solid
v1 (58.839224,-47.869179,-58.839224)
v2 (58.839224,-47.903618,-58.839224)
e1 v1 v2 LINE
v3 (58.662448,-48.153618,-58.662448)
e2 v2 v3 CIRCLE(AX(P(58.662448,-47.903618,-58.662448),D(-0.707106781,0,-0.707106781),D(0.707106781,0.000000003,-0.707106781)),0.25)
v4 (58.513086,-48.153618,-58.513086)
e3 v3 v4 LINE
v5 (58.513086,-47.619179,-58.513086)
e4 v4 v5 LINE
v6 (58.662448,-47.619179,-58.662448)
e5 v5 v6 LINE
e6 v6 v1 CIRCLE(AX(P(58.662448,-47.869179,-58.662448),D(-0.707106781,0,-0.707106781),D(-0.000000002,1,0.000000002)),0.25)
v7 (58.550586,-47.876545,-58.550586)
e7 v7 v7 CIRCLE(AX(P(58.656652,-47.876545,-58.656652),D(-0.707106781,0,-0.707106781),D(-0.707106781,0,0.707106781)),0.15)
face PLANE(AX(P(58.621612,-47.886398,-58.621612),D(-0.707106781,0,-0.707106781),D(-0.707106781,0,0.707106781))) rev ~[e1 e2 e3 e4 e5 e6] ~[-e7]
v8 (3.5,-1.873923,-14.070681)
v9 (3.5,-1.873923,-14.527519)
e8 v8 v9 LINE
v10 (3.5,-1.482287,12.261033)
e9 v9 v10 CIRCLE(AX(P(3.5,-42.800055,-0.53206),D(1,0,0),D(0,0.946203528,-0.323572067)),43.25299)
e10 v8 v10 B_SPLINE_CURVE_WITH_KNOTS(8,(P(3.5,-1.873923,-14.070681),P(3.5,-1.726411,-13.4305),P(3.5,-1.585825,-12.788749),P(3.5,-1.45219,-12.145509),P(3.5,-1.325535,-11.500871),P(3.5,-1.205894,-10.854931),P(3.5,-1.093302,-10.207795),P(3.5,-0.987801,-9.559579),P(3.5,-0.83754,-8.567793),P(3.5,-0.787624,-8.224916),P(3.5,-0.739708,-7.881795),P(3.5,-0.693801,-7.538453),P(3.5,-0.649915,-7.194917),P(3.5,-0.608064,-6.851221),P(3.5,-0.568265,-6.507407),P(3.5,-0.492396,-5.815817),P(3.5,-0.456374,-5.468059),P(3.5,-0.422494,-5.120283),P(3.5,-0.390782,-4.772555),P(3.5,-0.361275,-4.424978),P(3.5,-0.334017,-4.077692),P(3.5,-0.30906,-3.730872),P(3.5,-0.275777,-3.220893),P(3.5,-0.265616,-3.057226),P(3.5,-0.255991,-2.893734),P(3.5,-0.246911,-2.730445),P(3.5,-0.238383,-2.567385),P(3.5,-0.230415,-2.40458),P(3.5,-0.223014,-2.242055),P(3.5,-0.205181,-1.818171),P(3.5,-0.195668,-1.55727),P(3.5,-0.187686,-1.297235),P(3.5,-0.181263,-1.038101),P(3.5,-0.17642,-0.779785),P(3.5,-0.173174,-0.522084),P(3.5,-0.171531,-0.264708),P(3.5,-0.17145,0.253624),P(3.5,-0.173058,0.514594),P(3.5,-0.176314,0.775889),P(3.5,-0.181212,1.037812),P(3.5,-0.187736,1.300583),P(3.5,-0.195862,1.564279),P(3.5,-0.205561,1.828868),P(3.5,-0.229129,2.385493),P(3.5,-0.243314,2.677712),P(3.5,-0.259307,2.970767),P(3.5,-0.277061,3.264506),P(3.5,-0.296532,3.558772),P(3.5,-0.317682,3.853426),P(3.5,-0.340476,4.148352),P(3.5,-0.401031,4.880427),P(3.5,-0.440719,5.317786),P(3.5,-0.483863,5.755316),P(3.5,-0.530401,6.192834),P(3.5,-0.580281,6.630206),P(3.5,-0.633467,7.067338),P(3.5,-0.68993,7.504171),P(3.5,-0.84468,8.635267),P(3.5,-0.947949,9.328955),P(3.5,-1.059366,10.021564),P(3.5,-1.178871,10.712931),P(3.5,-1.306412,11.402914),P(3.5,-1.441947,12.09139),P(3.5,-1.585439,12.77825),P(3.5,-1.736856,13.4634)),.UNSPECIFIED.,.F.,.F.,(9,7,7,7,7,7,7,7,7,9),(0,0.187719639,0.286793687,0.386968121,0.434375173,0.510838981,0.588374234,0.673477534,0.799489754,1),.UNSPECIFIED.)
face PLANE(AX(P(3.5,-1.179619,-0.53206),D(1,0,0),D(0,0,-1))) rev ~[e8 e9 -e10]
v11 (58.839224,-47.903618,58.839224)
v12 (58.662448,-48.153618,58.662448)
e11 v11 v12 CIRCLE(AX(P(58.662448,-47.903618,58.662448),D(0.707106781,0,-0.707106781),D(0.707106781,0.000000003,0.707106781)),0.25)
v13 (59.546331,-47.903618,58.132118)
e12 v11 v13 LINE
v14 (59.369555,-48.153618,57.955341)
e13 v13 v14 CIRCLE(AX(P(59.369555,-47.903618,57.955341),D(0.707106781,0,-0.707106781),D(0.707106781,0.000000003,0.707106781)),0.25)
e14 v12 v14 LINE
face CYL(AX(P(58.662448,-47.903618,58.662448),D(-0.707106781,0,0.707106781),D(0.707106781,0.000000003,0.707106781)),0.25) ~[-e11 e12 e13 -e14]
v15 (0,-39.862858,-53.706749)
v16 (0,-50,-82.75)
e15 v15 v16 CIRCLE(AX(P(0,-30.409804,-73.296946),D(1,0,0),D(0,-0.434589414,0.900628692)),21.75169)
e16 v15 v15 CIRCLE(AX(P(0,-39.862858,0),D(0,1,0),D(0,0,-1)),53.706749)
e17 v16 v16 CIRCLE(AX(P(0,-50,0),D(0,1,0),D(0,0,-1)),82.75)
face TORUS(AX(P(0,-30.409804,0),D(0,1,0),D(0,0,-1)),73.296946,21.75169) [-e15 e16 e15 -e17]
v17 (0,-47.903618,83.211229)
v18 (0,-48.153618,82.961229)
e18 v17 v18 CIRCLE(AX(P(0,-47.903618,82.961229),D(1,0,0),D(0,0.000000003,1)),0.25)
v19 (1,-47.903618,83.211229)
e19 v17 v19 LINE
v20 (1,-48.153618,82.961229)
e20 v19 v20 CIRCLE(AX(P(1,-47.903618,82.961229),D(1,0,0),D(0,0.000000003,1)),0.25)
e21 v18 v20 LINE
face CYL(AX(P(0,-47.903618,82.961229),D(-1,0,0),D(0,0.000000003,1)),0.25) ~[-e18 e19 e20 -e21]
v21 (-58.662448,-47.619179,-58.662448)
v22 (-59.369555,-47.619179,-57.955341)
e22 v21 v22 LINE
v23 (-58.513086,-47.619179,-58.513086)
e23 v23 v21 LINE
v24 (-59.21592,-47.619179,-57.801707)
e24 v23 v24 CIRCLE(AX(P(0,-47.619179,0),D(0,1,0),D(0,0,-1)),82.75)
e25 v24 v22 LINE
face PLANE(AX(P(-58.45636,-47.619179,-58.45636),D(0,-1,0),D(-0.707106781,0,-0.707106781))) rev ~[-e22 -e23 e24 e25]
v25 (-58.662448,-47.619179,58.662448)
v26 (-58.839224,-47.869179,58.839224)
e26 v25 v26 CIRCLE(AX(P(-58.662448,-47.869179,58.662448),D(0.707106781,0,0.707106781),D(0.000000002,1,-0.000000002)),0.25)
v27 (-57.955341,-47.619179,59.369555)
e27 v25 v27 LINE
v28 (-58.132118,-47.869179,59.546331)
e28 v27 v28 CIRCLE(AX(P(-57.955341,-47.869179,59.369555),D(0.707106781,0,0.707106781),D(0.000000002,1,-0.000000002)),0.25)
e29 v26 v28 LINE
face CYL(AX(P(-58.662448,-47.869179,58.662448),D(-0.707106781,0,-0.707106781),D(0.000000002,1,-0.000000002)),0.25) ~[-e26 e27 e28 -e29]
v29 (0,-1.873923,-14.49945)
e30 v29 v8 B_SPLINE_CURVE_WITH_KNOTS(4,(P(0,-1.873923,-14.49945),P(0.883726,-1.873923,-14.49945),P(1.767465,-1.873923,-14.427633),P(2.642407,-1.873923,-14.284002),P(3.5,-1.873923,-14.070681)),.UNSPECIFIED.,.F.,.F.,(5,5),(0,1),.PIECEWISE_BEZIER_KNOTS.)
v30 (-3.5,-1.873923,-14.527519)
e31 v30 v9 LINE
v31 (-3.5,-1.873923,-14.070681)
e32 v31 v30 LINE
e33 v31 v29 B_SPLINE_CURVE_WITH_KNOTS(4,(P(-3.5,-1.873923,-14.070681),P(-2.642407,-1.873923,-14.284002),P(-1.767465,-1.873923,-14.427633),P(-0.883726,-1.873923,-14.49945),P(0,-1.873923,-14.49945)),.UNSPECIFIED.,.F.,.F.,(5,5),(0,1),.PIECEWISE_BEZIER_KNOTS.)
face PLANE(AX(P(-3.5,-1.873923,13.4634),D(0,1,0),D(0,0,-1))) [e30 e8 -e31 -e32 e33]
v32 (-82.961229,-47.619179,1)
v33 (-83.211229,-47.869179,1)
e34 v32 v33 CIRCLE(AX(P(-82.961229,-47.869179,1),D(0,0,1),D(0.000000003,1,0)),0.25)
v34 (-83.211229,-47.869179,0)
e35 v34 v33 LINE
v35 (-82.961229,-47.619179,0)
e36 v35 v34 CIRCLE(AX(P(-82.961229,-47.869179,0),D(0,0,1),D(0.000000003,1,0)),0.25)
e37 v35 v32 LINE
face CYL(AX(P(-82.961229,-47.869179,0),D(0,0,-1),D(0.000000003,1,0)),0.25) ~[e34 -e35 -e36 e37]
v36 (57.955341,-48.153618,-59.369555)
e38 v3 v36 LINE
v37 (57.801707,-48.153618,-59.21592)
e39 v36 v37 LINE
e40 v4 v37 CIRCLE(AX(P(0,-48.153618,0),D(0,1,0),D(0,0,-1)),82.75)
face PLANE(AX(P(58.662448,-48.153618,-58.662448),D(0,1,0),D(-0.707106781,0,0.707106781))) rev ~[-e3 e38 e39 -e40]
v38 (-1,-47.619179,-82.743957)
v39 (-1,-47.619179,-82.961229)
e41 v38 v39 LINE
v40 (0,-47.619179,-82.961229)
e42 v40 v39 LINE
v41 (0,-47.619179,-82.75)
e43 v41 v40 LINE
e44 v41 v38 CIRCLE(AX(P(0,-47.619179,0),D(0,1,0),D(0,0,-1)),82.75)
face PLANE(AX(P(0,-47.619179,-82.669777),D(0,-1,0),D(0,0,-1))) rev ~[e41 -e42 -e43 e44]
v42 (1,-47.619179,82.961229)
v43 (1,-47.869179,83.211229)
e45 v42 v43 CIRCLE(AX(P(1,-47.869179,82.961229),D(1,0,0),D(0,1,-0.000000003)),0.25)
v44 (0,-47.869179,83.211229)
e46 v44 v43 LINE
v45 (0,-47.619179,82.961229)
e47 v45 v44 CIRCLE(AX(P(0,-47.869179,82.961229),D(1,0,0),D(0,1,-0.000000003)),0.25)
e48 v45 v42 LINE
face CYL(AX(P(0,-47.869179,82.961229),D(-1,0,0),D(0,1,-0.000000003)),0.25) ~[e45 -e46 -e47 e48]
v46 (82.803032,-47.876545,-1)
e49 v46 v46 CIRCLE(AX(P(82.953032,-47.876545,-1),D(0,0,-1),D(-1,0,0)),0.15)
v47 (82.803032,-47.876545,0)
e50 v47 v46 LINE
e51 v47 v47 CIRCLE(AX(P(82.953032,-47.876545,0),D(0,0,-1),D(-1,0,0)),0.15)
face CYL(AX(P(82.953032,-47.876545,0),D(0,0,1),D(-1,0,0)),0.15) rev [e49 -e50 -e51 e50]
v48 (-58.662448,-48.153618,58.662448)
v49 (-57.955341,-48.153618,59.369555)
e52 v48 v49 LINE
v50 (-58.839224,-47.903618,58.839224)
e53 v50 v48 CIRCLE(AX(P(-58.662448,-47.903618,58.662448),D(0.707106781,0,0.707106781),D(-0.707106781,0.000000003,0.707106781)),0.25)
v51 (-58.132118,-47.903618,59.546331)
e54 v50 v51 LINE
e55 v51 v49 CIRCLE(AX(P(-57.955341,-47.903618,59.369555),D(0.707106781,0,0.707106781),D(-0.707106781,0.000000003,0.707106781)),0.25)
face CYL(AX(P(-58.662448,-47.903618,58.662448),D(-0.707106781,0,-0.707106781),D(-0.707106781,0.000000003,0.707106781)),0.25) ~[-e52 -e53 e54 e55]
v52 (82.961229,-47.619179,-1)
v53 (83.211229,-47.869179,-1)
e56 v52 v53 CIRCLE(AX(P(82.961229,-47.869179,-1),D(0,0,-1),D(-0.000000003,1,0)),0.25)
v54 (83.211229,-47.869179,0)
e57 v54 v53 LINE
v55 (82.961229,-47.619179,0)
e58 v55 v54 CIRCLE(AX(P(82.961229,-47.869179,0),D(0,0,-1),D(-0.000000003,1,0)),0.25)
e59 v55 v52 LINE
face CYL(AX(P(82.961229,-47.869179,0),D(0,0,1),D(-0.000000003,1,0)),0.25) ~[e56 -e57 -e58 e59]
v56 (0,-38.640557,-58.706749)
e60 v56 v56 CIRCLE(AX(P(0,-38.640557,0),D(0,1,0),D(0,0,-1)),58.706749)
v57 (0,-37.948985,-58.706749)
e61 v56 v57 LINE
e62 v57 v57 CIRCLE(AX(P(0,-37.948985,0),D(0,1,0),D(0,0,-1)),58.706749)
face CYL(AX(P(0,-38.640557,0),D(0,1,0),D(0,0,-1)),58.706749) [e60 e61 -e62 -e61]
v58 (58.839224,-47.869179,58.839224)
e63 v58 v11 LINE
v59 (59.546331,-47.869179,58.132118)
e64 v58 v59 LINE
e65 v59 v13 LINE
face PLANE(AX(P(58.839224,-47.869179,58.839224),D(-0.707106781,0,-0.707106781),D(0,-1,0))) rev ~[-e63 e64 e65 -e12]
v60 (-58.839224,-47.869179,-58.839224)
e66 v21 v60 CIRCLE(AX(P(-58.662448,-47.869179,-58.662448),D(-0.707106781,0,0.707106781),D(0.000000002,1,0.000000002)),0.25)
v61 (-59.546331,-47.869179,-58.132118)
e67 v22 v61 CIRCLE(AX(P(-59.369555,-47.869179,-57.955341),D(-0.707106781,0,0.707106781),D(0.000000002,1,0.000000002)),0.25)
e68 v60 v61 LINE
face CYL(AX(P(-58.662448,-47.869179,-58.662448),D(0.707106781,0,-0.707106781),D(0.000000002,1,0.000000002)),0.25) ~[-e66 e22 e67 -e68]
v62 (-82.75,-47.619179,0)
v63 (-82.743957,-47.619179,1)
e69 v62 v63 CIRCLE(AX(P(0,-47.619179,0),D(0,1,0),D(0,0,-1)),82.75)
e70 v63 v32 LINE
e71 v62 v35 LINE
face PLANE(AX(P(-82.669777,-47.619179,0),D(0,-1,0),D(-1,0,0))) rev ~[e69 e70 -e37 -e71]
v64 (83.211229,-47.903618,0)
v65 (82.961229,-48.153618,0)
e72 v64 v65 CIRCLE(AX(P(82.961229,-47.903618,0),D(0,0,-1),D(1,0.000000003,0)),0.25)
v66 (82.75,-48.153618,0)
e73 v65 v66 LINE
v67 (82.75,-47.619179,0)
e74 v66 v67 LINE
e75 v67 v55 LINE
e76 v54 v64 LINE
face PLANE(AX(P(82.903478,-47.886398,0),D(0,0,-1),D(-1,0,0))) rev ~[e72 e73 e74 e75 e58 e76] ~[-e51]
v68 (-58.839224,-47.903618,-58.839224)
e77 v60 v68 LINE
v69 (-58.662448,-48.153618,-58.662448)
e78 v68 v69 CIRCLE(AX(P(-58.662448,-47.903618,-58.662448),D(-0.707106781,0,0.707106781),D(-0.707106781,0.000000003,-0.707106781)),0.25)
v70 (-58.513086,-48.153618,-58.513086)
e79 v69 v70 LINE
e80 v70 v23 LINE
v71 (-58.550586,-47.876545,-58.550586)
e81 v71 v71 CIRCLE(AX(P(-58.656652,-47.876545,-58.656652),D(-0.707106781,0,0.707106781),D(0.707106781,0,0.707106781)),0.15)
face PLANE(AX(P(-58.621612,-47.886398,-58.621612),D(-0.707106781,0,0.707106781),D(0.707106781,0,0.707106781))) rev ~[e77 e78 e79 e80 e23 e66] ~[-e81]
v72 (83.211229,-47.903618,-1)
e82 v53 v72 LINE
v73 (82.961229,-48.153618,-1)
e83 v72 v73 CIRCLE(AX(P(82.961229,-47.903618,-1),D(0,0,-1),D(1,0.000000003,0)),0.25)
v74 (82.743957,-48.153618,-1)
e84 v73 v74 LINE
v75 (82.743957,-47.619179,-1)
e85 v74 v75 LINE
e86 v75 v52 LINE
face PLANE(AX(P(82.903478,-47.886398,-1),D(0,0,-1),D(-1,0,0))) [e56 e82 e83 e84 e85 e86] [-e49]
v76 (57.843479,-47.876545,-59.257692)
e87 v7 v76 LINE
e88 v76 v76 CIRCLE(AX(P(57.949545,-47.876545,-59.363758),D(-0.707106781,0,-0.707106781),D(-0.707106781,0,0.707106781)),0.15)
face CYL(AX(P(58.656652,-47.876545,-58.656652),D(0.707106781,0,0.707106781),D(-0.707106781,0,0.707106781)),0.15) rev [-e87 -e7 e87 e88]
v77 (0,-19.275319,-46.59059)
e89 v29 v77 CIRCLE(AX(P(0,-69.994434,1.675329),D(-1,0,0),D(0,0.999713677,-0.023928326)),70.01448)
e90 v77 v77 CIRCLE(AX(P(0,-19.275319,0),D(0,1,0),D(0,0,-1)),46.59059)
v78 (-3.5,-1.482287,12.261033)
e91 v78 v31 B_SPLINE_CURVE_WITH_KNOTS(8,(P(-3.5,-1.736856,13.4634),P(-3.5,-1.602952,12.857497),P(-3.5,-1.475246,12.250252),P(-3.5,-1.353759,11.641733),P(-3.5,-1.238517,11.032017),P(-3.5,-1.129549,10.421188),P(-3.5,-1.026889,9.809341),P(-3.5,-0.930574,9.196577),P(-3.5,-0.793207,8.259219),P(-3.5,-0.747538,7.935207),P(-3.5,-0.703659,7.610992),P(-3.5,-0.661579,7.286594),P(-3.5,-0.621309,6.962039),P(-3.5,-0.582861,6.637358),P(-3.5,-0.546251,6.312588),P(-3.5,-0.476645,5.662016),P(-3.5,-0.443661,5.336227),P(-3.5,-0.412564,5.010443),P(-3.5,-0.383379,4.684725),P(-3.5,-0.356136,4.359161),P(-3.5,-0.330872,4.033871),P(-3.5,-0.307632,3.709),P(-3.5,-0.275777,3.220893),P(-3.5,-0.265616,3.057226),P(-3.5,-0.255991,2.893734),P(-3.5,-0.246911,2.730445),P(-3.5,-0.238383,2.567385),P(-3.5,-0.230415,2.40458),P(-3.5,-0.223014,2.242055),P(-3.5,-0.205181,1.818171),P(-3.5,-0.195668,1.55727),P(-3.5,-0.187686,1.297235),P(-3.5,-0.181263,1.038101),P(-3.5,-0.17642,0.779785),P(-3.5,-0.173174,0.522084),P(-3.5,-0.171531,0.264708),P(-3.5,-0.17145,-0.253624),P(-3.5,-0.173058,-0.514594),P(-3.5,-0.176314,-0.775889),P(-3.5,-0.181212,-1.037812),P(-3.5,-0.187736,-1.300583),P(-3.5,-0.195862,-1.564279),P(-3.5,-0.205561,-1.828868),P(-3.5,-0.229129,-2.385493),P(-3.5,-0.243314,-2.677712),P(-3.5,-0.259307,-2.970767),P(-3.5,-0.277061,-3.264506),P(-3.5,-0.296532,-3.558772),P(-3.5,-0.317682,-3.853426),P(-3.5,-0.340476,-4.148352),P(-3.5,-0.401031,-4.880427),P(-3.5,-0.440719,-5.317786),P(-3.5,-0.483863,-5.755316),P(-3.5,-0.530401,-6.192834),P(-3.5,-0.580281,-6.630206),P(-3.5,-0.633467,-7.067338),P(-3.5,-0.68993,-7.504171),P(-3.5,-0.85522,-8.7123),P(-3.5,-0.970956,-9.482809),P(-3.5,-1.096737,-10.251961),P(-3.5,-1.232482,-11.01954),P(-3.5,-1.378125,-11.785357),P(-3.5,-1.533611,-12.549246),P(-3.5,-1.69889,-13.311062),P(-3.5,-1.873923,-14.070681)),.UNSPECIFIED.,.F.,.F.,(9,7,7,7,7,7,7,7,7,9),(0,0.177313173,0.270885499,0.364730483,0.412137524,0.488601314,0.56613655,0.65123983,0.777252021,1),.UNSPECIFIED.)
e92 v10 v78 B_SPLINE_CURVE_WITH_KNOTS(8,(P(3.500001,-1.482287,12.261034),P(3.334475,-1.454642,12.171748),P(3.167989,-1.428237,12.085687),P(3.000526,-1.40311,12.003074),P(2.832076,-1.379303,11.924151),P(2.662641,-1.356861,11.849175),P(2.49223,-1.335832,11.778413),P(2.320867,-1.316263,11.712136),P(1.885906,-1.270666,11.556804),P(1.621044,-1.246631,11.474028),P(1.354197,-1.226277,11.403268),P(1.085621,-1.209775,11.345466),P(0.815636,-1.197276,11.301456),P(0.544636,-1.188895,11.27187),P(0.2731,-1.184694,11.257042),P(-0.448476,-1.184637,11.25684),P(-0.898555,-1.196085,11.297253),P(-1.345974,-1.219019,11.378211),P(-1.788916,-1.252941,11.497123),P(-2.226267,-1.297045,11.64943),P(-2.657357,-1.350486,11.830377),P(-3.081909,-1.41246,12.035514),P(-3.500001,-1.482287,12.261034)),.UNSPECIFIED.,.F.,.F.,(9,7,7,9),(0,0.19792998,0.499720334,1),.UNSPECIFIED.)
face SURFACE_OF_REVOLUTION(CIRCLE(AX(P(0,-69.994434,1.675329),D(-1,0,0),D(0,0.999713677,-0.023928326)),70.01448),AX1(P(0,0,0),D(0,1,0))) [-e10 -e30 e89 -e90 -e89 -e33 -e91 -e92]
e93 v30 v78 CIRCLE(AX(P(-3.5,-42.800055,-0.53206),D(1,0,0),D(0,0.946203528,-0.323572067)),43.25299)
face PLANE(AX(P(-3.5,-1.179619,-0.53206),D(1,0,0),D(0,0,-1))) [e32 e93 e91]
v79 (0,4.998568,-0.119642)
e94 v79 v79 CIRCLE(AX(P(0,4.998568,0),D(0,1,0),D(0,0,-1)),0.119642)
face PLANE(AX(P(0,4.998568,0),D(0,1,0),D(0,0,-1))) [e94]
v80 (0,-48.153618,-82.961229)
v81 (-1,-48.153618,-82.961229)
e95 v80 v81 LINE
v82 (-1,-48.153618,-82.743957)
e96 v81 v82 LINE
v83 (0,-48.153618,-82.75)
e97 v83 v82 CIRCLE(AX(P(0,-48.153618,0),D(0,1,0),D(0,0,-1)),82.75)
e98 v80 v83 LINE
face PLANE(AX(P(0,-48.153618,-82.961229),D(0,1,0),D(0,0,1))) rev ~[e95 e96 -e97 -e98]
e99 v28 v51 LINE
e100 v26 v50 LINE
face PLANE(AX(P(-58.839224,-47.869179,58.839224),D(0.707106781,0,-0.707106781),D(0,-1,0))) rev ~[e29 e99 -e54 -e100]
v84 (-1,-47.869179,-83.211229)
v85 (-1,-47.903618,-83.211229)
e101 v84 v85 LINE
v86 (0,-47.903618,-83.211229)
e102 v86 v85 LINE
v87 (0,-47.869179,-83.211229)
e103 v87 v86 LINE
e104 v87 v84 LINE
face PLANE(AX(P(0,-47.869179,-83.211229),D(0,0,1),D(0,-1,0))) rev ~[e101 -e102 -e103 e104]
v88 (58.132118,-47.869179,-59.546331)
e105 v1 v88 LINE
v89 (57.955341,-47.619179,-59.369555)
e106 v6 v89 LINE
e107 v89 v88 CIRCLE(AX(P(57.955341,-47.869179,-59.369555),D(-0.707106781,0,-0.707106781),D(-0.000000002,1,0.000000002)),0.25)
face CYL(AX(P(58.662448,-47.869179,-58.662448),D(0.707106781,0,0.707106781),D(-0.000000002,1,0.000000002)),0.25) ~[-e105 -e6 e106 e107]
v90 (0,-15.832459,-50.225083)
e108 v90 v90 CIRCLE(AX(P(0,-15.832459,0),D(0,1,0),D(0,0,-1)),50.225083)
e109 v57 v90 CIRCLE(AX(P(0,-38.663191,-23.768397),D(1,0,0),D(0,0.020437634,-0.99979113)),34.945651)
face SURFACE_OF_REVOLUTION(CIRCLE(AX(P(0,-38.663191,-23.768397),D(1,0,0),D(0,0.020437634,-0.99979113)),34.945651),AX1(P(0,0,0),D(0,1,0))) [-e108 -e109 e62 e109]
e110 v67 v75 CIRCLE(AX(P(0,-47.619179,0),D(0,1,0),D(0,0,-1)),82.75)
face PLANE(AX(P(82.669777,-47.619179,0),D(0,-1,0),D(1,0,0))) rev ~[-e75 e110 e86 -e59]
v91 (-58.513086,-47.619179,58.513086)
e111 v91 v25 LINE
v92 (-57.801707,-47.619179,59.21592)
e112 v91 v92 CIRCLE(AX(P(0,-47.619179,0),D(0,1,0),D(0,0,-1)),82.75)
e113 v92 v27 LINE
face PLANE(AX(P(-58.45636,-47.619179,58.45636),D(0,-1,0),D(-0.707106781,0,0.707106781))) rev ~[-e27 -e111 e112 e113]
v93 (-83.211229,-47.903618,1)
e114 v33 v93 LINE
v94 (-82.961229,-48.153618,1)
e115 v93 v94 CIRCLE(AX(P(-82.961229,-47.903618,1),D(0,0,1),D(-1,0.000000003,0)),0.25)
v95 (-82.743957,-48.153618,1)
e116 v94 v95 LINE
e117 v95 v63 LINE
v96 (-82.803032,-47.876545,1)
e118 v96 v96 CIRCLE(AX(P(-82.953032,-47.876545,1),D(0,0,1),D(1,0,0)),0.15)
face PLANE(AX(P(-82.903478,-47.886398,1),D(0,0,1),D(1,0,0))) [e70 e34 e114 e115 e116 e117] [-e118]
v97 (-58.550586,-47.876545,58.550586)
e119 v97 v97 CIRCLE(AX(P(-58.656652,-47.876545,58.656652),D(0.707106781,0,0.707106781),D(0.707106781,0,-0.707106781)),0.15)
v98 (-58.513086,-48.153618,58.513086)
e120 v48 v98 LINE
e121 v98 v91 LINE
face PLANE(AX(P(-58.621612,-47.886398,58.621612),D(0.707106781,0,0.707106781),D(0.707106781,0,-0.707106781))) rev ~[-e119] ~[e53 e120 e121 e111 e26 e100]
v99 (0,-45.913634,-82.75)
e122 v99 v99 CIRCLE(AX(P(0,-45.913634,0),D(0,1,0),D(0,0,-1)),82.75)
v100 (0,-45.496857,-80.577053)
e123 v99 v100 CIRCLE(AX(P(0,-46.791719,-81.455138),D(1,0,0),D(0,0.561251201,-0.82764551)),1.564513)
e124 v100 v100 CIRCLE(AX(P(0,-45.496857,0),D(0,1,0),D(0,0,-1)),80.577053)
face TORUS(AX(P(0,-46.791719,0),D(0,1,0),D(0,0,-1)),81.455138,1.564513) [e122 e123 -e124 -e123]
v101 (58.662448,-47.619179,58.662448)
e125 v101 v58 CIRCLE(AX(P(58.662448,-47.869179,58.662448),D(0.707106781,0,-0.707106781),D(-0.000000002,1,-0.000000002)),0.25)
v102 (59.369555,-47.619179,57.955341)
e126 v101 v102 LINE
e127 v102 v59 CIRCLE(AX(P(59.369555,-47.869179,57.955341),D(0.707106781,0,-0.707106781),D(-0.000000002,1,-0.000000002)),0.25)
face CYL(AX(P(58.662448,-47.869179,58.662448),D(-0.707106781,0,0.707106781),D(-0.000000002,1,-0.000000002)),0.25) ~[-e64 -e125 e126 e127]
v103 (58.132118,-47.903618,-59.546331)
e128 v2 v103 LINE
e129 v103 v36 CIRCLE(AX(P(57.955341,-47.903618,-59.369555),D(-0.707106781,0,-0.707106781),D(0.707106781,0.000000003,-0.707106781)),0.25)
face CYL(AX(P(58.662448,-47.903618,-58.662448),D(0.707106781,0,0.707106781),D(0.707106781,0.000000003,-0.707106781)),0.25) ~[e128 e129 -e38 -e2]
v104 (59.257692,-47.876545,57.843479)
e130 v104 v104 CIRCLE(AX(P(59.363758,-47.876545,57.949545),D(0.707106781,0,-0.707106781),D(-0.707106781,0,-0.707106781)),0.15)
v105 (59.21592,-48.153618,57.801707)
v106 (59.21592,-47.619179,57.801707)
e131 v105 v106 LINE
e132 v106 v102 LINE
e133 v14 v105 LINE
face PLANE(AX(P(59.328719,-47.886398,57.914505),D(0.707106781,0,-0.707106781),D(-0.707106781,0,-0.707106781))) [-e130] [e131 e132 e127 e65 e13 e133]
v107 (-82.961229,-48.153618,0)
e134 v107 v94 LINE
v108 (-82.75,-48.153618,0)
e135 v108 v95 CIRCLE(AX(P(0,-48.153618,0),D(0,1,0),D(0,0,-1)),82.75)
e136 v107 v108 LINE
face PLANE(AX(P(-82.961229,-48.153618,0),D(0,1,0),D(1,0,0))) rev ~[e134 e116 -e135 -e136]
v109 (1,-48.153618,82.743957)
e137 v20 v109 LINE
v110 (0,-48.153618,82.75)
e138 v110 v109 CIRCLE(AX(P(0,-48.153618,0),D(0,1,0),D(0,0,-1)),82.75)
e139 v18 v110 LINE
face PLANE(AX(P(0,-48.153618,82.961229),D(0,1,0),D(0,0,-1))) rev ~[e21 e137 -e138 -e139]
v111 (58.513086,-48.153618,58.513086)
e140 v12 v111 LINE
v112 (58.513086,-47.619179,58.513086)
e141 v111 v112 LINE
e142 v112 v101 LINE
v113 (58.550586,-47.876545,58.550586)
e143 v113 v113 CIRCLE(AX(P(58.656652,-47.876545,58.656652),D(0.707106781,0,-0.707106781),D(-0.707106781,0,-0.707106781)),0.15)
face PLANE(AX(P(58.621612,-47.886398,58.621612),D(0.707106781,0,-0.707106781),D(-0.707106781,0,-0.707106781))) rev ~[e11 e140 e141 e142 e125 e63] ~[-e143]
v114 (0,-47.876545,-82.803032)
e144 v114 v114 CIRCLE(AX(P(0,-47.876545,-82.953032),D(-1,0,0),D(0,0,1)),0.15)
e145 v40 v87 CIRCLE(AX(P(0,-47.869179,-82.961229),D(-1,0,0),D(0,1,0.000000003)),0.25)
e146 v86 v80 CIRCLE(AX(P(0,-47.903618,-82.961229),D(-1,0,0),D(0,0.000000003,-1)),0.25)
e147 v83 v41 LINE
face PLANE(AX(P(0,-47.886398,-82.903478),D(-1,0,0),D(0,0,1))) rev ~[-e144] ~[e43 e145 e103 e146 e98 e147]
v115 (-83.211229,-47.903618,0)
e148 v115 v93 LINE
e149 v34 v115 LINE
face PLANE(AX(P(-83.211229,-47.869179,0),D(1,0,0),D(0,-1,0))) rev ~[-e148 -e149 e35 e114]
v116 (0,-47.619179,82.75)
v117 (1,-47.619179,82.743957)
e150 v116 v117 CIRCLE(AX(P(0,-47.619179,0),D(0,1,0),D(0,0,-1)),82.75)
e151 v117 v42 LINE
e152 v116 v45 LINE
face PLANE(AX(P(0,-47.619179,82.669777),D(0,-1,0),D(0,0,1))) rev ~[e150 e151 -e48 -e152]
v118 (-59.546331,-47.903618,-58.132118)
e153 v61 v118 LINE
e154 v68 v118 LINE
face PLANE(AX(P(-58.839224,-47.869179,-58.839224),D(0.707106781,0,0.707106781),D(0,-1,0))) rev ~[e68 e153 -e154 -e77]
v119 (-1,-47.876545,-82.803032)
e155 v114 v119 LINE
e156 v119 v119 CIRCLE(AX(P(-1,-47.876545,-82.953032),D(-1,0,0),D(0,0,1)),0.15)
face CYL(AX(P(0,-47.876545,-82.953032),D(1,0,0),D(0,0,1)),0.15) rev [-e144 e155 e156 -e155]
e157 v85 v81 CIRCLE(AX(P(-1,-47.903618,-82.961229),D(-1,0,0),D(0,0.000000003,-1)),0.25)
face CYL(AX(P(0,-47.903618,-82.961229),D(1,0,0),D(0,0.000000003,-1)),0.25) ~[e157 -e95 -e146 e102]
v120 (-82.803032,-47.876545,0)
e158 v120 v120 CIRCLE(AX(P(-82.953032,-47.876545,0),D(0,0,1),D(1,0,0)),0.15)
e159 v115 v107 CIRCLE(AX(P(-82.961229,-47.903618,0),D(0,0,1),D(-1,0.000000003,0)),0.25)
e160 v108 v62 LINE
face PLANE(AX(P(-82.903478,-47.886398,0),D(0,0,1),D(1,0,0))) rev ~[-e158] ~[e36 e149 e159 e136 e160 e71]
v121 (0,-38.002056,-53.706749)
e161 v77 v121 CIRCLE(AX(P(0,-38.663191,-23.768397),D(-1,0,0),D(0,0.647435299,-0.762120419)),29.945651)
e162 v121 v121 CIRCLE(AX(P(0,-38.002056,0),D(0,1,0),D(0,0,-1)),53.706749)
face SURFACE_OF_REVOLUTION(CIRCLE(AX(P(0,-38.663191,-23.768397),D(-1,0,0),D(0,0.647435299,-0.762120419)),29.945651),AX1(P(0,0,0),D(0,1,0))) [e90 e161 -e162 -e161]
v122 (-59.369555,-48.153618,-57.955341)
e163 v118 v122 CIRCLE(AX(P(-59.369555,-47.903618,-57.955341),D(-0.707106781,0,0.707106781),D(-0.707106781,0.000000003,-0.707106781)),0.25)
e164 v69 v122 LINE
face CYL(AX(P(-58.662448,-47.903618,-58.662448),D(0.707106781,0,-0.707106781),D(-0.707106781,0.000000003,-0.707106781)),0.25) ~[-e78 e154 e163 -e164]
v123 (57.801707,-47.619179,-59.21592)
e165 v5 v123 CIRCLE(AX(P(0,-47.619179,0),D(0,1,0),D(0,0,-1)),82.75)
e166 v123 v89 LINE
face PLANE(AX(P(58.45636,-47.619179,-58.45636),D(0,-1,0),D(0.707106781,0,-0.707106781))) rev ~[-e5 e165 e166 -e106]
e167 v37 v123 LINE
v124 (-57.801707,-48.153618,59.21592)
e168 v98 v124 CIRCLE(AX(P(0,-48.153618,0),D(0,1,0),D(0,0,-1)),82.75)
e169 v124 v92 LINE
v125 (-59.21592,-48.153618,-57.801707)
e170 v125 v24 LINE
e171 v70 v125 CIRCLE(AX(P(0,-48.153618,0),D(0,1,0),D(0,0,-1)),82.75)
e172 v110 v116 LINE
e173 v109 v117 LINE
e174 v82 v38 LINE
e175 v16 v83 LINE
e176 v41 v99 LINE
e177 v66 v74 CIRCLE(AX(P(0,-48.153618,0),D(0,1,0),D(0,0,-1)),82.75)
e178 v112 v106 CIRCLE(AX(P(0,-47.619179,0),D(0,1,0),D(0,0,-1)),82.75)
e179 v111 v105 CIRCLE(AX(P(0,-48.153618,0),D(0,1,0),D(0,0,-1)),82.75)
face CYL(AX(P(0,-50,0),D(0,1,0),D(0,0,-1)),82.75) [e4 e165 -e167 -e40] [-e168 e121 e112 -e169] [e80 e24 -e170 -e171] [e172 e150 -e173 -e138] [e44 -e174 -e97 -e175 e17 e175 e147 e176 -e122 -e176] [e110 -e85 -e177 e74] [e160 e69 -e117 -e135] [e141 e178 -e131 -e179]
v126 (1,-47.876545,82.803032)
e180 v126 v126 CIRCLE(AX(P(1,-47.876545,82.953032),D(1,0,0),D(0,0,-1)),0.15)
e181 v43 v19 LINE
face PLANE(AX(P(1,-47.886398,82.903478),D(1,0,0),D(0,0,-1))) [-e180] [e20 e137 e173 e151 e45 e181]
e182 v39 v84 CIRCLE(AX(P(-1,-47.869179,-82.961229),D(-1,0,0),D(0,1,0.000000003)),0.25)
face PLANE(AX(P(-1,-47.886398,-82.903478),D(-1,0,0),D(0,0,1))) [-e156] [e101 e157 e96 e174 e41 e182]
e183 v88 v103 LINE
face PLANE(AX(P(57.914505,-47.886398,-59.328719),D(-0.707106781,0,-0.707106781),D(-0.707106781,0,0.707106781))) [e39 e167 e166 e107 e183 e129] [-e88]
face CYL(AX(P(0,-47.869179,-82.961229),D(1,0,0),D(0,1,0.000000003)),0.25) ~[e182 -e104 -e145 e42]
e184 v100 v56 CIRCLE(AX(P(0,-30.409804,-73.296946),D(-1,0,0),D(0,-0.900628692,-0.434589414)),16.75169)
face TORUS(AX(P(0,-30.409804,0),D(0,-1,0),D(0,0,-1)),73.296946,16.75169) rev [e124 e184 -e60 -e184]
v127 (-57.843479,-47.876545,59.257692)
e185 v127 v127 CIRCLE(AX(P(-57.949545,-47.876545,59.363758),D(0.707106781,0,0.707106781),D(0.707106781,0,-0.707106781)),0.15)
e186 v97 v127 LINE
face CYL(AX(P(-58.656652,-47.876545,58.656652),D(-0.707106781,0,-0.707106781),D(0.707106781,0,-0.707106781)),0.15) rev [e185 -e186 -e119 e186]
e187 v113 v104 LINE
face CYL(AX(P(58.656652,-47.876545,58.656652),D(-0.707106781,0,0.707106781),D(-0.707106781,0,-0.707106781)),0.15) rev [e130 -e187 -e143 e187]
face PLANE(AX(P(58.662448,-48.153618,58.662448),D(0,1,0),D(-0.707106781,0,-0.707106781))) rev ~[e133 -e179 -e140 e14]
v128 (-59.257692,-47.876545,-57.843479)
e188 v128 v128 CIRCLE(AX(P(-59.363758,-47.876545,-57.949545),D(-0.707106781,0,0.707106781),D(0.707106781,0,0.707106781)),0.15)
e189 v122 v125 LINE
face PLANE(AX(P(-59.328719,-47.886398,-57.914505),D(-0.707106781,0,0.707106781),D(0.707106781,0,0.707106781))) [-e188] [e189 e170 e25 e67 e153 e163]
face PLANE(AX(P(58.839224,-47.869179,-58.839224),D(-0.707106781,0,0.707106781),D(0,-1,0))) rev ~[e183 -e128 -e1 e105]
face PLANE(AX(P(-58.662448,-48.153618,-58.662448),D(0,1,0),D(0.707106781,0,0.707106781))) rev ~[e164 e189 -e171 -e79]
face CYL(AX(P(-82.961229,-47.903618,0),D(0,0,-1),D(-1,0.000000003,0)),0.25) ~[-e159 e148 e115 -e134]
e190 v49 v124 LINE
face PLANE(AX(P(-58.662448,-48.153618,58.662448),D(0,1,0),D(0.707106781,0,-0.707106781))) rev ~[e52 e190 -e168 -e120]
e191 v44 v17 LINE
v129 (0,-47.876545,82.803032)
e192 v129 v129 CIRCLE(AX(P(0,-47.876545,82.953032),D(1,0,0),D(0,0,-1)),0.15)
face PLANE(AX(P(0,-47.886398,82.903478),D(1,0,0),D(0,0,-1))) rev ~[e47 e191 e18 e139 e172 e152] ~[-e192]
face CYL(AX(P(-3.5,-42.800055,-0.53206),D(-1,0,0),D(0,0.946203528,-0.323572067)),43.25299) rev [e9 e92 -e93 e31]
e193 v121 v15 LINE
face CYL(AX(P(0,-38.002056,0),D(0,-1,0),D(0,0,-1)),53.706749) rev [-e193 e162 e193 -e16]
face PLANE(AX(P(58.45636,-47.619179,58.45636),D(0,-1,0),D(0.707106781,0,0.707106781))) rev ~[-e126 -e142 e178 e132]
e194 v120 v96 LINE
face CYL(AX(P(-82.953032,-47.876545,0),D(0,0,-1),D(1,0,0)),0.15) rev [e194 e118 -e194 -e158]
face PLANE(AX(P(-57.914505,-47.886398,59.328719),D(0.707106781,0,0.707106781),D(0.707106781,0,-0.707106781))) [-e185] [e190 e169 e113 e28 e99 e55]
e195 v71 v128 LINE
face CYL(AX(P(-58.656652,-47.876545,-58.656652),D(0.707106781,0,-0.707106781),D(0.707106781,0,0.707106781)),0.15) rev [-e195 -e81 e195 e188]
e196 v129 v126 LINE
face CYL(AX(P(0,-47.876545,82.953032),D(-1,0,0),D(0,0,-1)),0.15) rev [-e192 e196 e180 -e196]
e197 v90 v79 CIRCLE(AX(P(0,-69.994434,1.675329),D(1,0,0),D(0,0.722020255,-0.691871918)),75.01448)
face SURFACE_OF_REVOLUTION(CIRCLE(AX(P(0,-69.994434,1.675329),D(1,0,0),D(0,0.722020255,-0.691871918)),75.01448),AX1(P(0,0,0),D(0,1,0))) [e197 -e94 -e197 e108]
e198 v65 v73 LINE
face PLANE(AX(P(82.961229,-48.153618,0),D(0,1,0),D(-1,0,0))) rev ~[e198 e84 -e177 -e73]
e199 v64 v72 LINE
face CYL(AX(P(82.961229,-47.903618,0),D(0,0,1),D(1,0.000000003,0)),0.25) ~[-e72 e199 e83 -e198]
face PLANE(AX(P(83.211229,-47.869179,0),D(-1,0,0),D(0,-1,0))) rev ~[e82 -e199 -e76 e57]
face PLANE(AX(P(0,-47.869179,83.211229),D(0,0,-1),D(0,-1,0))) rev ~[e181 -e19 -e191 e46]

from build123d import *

# Parameters (mm, degrees)
CROQUIS3_R                 = 0.15
SALIENTE_EXTRUIR1_DEPTH    = 1
MATRIZC1_COUNT             = 8
CORTAR_EXTRUIR1_DEPTH      = 3.5
CORTAR_EXTRUIR1_DEPTH_BACK = 3.5


with BuildPart() as part:
    # Croquis1 → Revolución1 (revolve)
    with BuildSketch(Plane(origin=(0, 0, 0), x_dir=(0, 0, -1), z_dir=(1, 0, 0)), mode=Mode.PRIVATE) as revoluci_n1_sk:
        with BuildLine():
            Line((-53.706749403, -38.00205598), (-53.706749403, -39.862857986))
            ThreePointArc((-53.706749403, -39.862857986), (-66.128903849, -50.946483139), (-82.75, -50))
            Line((-82.75, -50), (-82.75, -45.913633918))
            ThreePointArc((-82.75, -45.913633918), (-81.749843887, -45.255213155), (-80.577052932, -45.496856538))
            ThreePointArc((-80.577052932, -45.496856538), (-68.28580191, -46.394407616), (-58.706749403, -38.640556786))
            Line((-58.706749403, -38.640556786), (-58.706749403, -37.948984749))
            ThreePointArc((-58.706749403, -37.948984749), (-56.396956017, -26.15017016), (-50.225083134, -15.832459353))
            ThreePointArc((-50.225083134, -15.832459353), (-27.121918445, -0.727624897), (-0.119641632, 4.998568383))
            Line((-0.119641632, 4.998568383), (0, 4.998568383))
            Line((0, 4.998568383), (0, 0))
            ThreePointArc((0, 0), (-25.090629498, -5.29813609), (-46.590589513, -19.275319426))
            ThreePointArc((-46.590589513, -19.275319426), (-51.761100349, -28.025963964), (-53.706749403, -38.00205598))
        make_face()
    revolve(revoluci_n1_sk.sketch.rotate(Axis((0, 0, 0), (0, 1, 0)), 180), axis=Axis((0, 0, 0), (0, 1, 0)))

    # Croquis3 → Saliente-Extruir1 (add)
    with BuildSketch(Plane.XY):
        with BuildLine():
            Line((-82.669777011, -47.619178632), (-82.96122925, -47.619178632))
            ThreePointArc((-82.96122925, -47.619178632), (-83.138005946, -47.692401937), (-83.21122925, -47.869178632))
            Line((-83.21122925, -47.869178632), (-83.21122925, -47.903618104))
            ThreePointArc((-83.21122925, -47.903618104), (-83.138005946, -48.080394799), (-82.96122925, -48.153618104))
            Line((-82.96122925, -48.153618104), (-82.669777011, -48.153618104))
            Line((-82.669777011, -48.153618104), (-82.669777011, -47.619178632))
        make_face()
        with Locations((-82.953032146, -47.876545308)):
            Circle(CROQUIS3_R, mode=Mode.SUBTRACT)
    saliente_extruir1 = extrude(amount=SALIENTE_EXTRUIR1_DEPTH)

    # MatrizC1: Saliente-Extruir1 ×8 about axis
    matrizc1_axis = Axis((0, 0, 0), (0, 1, 0))
    for i in range(1, MATRIZC1_COUNT):
        add(saliente_extruir1.rotate(matrizc1_axis, i * 360 / MATRIZC1_COUNT))

    # Croquis4 → Cortar-Extruir1 (cut, two sides: drawn at the far end of the back side and taken through both)
    with BuildSketch(Plane(origin=(0, 0, 0), x_dir=(0, 0, -1), z_dir=(1, 0, 0)).offset(-CORTAR_EXTRUIR1_DEPTH_BACK)):
        with BuildLine():
            Line((-13.463399876, -1.873922968), (14.527518877, -1.873922968))
            ThreePointArc((14.527518877, -1.873922968), (0.532059501, 0.452935275), (-13.463399876, -1.873922968))
        make_face()
    extrude(amount=CORTAR_EXTRUIR1_DEPTH + CORTAR_EXTRUIR1_DEPTH_BACK, mode=Mode.SUBTRACT)


solid = part.part
